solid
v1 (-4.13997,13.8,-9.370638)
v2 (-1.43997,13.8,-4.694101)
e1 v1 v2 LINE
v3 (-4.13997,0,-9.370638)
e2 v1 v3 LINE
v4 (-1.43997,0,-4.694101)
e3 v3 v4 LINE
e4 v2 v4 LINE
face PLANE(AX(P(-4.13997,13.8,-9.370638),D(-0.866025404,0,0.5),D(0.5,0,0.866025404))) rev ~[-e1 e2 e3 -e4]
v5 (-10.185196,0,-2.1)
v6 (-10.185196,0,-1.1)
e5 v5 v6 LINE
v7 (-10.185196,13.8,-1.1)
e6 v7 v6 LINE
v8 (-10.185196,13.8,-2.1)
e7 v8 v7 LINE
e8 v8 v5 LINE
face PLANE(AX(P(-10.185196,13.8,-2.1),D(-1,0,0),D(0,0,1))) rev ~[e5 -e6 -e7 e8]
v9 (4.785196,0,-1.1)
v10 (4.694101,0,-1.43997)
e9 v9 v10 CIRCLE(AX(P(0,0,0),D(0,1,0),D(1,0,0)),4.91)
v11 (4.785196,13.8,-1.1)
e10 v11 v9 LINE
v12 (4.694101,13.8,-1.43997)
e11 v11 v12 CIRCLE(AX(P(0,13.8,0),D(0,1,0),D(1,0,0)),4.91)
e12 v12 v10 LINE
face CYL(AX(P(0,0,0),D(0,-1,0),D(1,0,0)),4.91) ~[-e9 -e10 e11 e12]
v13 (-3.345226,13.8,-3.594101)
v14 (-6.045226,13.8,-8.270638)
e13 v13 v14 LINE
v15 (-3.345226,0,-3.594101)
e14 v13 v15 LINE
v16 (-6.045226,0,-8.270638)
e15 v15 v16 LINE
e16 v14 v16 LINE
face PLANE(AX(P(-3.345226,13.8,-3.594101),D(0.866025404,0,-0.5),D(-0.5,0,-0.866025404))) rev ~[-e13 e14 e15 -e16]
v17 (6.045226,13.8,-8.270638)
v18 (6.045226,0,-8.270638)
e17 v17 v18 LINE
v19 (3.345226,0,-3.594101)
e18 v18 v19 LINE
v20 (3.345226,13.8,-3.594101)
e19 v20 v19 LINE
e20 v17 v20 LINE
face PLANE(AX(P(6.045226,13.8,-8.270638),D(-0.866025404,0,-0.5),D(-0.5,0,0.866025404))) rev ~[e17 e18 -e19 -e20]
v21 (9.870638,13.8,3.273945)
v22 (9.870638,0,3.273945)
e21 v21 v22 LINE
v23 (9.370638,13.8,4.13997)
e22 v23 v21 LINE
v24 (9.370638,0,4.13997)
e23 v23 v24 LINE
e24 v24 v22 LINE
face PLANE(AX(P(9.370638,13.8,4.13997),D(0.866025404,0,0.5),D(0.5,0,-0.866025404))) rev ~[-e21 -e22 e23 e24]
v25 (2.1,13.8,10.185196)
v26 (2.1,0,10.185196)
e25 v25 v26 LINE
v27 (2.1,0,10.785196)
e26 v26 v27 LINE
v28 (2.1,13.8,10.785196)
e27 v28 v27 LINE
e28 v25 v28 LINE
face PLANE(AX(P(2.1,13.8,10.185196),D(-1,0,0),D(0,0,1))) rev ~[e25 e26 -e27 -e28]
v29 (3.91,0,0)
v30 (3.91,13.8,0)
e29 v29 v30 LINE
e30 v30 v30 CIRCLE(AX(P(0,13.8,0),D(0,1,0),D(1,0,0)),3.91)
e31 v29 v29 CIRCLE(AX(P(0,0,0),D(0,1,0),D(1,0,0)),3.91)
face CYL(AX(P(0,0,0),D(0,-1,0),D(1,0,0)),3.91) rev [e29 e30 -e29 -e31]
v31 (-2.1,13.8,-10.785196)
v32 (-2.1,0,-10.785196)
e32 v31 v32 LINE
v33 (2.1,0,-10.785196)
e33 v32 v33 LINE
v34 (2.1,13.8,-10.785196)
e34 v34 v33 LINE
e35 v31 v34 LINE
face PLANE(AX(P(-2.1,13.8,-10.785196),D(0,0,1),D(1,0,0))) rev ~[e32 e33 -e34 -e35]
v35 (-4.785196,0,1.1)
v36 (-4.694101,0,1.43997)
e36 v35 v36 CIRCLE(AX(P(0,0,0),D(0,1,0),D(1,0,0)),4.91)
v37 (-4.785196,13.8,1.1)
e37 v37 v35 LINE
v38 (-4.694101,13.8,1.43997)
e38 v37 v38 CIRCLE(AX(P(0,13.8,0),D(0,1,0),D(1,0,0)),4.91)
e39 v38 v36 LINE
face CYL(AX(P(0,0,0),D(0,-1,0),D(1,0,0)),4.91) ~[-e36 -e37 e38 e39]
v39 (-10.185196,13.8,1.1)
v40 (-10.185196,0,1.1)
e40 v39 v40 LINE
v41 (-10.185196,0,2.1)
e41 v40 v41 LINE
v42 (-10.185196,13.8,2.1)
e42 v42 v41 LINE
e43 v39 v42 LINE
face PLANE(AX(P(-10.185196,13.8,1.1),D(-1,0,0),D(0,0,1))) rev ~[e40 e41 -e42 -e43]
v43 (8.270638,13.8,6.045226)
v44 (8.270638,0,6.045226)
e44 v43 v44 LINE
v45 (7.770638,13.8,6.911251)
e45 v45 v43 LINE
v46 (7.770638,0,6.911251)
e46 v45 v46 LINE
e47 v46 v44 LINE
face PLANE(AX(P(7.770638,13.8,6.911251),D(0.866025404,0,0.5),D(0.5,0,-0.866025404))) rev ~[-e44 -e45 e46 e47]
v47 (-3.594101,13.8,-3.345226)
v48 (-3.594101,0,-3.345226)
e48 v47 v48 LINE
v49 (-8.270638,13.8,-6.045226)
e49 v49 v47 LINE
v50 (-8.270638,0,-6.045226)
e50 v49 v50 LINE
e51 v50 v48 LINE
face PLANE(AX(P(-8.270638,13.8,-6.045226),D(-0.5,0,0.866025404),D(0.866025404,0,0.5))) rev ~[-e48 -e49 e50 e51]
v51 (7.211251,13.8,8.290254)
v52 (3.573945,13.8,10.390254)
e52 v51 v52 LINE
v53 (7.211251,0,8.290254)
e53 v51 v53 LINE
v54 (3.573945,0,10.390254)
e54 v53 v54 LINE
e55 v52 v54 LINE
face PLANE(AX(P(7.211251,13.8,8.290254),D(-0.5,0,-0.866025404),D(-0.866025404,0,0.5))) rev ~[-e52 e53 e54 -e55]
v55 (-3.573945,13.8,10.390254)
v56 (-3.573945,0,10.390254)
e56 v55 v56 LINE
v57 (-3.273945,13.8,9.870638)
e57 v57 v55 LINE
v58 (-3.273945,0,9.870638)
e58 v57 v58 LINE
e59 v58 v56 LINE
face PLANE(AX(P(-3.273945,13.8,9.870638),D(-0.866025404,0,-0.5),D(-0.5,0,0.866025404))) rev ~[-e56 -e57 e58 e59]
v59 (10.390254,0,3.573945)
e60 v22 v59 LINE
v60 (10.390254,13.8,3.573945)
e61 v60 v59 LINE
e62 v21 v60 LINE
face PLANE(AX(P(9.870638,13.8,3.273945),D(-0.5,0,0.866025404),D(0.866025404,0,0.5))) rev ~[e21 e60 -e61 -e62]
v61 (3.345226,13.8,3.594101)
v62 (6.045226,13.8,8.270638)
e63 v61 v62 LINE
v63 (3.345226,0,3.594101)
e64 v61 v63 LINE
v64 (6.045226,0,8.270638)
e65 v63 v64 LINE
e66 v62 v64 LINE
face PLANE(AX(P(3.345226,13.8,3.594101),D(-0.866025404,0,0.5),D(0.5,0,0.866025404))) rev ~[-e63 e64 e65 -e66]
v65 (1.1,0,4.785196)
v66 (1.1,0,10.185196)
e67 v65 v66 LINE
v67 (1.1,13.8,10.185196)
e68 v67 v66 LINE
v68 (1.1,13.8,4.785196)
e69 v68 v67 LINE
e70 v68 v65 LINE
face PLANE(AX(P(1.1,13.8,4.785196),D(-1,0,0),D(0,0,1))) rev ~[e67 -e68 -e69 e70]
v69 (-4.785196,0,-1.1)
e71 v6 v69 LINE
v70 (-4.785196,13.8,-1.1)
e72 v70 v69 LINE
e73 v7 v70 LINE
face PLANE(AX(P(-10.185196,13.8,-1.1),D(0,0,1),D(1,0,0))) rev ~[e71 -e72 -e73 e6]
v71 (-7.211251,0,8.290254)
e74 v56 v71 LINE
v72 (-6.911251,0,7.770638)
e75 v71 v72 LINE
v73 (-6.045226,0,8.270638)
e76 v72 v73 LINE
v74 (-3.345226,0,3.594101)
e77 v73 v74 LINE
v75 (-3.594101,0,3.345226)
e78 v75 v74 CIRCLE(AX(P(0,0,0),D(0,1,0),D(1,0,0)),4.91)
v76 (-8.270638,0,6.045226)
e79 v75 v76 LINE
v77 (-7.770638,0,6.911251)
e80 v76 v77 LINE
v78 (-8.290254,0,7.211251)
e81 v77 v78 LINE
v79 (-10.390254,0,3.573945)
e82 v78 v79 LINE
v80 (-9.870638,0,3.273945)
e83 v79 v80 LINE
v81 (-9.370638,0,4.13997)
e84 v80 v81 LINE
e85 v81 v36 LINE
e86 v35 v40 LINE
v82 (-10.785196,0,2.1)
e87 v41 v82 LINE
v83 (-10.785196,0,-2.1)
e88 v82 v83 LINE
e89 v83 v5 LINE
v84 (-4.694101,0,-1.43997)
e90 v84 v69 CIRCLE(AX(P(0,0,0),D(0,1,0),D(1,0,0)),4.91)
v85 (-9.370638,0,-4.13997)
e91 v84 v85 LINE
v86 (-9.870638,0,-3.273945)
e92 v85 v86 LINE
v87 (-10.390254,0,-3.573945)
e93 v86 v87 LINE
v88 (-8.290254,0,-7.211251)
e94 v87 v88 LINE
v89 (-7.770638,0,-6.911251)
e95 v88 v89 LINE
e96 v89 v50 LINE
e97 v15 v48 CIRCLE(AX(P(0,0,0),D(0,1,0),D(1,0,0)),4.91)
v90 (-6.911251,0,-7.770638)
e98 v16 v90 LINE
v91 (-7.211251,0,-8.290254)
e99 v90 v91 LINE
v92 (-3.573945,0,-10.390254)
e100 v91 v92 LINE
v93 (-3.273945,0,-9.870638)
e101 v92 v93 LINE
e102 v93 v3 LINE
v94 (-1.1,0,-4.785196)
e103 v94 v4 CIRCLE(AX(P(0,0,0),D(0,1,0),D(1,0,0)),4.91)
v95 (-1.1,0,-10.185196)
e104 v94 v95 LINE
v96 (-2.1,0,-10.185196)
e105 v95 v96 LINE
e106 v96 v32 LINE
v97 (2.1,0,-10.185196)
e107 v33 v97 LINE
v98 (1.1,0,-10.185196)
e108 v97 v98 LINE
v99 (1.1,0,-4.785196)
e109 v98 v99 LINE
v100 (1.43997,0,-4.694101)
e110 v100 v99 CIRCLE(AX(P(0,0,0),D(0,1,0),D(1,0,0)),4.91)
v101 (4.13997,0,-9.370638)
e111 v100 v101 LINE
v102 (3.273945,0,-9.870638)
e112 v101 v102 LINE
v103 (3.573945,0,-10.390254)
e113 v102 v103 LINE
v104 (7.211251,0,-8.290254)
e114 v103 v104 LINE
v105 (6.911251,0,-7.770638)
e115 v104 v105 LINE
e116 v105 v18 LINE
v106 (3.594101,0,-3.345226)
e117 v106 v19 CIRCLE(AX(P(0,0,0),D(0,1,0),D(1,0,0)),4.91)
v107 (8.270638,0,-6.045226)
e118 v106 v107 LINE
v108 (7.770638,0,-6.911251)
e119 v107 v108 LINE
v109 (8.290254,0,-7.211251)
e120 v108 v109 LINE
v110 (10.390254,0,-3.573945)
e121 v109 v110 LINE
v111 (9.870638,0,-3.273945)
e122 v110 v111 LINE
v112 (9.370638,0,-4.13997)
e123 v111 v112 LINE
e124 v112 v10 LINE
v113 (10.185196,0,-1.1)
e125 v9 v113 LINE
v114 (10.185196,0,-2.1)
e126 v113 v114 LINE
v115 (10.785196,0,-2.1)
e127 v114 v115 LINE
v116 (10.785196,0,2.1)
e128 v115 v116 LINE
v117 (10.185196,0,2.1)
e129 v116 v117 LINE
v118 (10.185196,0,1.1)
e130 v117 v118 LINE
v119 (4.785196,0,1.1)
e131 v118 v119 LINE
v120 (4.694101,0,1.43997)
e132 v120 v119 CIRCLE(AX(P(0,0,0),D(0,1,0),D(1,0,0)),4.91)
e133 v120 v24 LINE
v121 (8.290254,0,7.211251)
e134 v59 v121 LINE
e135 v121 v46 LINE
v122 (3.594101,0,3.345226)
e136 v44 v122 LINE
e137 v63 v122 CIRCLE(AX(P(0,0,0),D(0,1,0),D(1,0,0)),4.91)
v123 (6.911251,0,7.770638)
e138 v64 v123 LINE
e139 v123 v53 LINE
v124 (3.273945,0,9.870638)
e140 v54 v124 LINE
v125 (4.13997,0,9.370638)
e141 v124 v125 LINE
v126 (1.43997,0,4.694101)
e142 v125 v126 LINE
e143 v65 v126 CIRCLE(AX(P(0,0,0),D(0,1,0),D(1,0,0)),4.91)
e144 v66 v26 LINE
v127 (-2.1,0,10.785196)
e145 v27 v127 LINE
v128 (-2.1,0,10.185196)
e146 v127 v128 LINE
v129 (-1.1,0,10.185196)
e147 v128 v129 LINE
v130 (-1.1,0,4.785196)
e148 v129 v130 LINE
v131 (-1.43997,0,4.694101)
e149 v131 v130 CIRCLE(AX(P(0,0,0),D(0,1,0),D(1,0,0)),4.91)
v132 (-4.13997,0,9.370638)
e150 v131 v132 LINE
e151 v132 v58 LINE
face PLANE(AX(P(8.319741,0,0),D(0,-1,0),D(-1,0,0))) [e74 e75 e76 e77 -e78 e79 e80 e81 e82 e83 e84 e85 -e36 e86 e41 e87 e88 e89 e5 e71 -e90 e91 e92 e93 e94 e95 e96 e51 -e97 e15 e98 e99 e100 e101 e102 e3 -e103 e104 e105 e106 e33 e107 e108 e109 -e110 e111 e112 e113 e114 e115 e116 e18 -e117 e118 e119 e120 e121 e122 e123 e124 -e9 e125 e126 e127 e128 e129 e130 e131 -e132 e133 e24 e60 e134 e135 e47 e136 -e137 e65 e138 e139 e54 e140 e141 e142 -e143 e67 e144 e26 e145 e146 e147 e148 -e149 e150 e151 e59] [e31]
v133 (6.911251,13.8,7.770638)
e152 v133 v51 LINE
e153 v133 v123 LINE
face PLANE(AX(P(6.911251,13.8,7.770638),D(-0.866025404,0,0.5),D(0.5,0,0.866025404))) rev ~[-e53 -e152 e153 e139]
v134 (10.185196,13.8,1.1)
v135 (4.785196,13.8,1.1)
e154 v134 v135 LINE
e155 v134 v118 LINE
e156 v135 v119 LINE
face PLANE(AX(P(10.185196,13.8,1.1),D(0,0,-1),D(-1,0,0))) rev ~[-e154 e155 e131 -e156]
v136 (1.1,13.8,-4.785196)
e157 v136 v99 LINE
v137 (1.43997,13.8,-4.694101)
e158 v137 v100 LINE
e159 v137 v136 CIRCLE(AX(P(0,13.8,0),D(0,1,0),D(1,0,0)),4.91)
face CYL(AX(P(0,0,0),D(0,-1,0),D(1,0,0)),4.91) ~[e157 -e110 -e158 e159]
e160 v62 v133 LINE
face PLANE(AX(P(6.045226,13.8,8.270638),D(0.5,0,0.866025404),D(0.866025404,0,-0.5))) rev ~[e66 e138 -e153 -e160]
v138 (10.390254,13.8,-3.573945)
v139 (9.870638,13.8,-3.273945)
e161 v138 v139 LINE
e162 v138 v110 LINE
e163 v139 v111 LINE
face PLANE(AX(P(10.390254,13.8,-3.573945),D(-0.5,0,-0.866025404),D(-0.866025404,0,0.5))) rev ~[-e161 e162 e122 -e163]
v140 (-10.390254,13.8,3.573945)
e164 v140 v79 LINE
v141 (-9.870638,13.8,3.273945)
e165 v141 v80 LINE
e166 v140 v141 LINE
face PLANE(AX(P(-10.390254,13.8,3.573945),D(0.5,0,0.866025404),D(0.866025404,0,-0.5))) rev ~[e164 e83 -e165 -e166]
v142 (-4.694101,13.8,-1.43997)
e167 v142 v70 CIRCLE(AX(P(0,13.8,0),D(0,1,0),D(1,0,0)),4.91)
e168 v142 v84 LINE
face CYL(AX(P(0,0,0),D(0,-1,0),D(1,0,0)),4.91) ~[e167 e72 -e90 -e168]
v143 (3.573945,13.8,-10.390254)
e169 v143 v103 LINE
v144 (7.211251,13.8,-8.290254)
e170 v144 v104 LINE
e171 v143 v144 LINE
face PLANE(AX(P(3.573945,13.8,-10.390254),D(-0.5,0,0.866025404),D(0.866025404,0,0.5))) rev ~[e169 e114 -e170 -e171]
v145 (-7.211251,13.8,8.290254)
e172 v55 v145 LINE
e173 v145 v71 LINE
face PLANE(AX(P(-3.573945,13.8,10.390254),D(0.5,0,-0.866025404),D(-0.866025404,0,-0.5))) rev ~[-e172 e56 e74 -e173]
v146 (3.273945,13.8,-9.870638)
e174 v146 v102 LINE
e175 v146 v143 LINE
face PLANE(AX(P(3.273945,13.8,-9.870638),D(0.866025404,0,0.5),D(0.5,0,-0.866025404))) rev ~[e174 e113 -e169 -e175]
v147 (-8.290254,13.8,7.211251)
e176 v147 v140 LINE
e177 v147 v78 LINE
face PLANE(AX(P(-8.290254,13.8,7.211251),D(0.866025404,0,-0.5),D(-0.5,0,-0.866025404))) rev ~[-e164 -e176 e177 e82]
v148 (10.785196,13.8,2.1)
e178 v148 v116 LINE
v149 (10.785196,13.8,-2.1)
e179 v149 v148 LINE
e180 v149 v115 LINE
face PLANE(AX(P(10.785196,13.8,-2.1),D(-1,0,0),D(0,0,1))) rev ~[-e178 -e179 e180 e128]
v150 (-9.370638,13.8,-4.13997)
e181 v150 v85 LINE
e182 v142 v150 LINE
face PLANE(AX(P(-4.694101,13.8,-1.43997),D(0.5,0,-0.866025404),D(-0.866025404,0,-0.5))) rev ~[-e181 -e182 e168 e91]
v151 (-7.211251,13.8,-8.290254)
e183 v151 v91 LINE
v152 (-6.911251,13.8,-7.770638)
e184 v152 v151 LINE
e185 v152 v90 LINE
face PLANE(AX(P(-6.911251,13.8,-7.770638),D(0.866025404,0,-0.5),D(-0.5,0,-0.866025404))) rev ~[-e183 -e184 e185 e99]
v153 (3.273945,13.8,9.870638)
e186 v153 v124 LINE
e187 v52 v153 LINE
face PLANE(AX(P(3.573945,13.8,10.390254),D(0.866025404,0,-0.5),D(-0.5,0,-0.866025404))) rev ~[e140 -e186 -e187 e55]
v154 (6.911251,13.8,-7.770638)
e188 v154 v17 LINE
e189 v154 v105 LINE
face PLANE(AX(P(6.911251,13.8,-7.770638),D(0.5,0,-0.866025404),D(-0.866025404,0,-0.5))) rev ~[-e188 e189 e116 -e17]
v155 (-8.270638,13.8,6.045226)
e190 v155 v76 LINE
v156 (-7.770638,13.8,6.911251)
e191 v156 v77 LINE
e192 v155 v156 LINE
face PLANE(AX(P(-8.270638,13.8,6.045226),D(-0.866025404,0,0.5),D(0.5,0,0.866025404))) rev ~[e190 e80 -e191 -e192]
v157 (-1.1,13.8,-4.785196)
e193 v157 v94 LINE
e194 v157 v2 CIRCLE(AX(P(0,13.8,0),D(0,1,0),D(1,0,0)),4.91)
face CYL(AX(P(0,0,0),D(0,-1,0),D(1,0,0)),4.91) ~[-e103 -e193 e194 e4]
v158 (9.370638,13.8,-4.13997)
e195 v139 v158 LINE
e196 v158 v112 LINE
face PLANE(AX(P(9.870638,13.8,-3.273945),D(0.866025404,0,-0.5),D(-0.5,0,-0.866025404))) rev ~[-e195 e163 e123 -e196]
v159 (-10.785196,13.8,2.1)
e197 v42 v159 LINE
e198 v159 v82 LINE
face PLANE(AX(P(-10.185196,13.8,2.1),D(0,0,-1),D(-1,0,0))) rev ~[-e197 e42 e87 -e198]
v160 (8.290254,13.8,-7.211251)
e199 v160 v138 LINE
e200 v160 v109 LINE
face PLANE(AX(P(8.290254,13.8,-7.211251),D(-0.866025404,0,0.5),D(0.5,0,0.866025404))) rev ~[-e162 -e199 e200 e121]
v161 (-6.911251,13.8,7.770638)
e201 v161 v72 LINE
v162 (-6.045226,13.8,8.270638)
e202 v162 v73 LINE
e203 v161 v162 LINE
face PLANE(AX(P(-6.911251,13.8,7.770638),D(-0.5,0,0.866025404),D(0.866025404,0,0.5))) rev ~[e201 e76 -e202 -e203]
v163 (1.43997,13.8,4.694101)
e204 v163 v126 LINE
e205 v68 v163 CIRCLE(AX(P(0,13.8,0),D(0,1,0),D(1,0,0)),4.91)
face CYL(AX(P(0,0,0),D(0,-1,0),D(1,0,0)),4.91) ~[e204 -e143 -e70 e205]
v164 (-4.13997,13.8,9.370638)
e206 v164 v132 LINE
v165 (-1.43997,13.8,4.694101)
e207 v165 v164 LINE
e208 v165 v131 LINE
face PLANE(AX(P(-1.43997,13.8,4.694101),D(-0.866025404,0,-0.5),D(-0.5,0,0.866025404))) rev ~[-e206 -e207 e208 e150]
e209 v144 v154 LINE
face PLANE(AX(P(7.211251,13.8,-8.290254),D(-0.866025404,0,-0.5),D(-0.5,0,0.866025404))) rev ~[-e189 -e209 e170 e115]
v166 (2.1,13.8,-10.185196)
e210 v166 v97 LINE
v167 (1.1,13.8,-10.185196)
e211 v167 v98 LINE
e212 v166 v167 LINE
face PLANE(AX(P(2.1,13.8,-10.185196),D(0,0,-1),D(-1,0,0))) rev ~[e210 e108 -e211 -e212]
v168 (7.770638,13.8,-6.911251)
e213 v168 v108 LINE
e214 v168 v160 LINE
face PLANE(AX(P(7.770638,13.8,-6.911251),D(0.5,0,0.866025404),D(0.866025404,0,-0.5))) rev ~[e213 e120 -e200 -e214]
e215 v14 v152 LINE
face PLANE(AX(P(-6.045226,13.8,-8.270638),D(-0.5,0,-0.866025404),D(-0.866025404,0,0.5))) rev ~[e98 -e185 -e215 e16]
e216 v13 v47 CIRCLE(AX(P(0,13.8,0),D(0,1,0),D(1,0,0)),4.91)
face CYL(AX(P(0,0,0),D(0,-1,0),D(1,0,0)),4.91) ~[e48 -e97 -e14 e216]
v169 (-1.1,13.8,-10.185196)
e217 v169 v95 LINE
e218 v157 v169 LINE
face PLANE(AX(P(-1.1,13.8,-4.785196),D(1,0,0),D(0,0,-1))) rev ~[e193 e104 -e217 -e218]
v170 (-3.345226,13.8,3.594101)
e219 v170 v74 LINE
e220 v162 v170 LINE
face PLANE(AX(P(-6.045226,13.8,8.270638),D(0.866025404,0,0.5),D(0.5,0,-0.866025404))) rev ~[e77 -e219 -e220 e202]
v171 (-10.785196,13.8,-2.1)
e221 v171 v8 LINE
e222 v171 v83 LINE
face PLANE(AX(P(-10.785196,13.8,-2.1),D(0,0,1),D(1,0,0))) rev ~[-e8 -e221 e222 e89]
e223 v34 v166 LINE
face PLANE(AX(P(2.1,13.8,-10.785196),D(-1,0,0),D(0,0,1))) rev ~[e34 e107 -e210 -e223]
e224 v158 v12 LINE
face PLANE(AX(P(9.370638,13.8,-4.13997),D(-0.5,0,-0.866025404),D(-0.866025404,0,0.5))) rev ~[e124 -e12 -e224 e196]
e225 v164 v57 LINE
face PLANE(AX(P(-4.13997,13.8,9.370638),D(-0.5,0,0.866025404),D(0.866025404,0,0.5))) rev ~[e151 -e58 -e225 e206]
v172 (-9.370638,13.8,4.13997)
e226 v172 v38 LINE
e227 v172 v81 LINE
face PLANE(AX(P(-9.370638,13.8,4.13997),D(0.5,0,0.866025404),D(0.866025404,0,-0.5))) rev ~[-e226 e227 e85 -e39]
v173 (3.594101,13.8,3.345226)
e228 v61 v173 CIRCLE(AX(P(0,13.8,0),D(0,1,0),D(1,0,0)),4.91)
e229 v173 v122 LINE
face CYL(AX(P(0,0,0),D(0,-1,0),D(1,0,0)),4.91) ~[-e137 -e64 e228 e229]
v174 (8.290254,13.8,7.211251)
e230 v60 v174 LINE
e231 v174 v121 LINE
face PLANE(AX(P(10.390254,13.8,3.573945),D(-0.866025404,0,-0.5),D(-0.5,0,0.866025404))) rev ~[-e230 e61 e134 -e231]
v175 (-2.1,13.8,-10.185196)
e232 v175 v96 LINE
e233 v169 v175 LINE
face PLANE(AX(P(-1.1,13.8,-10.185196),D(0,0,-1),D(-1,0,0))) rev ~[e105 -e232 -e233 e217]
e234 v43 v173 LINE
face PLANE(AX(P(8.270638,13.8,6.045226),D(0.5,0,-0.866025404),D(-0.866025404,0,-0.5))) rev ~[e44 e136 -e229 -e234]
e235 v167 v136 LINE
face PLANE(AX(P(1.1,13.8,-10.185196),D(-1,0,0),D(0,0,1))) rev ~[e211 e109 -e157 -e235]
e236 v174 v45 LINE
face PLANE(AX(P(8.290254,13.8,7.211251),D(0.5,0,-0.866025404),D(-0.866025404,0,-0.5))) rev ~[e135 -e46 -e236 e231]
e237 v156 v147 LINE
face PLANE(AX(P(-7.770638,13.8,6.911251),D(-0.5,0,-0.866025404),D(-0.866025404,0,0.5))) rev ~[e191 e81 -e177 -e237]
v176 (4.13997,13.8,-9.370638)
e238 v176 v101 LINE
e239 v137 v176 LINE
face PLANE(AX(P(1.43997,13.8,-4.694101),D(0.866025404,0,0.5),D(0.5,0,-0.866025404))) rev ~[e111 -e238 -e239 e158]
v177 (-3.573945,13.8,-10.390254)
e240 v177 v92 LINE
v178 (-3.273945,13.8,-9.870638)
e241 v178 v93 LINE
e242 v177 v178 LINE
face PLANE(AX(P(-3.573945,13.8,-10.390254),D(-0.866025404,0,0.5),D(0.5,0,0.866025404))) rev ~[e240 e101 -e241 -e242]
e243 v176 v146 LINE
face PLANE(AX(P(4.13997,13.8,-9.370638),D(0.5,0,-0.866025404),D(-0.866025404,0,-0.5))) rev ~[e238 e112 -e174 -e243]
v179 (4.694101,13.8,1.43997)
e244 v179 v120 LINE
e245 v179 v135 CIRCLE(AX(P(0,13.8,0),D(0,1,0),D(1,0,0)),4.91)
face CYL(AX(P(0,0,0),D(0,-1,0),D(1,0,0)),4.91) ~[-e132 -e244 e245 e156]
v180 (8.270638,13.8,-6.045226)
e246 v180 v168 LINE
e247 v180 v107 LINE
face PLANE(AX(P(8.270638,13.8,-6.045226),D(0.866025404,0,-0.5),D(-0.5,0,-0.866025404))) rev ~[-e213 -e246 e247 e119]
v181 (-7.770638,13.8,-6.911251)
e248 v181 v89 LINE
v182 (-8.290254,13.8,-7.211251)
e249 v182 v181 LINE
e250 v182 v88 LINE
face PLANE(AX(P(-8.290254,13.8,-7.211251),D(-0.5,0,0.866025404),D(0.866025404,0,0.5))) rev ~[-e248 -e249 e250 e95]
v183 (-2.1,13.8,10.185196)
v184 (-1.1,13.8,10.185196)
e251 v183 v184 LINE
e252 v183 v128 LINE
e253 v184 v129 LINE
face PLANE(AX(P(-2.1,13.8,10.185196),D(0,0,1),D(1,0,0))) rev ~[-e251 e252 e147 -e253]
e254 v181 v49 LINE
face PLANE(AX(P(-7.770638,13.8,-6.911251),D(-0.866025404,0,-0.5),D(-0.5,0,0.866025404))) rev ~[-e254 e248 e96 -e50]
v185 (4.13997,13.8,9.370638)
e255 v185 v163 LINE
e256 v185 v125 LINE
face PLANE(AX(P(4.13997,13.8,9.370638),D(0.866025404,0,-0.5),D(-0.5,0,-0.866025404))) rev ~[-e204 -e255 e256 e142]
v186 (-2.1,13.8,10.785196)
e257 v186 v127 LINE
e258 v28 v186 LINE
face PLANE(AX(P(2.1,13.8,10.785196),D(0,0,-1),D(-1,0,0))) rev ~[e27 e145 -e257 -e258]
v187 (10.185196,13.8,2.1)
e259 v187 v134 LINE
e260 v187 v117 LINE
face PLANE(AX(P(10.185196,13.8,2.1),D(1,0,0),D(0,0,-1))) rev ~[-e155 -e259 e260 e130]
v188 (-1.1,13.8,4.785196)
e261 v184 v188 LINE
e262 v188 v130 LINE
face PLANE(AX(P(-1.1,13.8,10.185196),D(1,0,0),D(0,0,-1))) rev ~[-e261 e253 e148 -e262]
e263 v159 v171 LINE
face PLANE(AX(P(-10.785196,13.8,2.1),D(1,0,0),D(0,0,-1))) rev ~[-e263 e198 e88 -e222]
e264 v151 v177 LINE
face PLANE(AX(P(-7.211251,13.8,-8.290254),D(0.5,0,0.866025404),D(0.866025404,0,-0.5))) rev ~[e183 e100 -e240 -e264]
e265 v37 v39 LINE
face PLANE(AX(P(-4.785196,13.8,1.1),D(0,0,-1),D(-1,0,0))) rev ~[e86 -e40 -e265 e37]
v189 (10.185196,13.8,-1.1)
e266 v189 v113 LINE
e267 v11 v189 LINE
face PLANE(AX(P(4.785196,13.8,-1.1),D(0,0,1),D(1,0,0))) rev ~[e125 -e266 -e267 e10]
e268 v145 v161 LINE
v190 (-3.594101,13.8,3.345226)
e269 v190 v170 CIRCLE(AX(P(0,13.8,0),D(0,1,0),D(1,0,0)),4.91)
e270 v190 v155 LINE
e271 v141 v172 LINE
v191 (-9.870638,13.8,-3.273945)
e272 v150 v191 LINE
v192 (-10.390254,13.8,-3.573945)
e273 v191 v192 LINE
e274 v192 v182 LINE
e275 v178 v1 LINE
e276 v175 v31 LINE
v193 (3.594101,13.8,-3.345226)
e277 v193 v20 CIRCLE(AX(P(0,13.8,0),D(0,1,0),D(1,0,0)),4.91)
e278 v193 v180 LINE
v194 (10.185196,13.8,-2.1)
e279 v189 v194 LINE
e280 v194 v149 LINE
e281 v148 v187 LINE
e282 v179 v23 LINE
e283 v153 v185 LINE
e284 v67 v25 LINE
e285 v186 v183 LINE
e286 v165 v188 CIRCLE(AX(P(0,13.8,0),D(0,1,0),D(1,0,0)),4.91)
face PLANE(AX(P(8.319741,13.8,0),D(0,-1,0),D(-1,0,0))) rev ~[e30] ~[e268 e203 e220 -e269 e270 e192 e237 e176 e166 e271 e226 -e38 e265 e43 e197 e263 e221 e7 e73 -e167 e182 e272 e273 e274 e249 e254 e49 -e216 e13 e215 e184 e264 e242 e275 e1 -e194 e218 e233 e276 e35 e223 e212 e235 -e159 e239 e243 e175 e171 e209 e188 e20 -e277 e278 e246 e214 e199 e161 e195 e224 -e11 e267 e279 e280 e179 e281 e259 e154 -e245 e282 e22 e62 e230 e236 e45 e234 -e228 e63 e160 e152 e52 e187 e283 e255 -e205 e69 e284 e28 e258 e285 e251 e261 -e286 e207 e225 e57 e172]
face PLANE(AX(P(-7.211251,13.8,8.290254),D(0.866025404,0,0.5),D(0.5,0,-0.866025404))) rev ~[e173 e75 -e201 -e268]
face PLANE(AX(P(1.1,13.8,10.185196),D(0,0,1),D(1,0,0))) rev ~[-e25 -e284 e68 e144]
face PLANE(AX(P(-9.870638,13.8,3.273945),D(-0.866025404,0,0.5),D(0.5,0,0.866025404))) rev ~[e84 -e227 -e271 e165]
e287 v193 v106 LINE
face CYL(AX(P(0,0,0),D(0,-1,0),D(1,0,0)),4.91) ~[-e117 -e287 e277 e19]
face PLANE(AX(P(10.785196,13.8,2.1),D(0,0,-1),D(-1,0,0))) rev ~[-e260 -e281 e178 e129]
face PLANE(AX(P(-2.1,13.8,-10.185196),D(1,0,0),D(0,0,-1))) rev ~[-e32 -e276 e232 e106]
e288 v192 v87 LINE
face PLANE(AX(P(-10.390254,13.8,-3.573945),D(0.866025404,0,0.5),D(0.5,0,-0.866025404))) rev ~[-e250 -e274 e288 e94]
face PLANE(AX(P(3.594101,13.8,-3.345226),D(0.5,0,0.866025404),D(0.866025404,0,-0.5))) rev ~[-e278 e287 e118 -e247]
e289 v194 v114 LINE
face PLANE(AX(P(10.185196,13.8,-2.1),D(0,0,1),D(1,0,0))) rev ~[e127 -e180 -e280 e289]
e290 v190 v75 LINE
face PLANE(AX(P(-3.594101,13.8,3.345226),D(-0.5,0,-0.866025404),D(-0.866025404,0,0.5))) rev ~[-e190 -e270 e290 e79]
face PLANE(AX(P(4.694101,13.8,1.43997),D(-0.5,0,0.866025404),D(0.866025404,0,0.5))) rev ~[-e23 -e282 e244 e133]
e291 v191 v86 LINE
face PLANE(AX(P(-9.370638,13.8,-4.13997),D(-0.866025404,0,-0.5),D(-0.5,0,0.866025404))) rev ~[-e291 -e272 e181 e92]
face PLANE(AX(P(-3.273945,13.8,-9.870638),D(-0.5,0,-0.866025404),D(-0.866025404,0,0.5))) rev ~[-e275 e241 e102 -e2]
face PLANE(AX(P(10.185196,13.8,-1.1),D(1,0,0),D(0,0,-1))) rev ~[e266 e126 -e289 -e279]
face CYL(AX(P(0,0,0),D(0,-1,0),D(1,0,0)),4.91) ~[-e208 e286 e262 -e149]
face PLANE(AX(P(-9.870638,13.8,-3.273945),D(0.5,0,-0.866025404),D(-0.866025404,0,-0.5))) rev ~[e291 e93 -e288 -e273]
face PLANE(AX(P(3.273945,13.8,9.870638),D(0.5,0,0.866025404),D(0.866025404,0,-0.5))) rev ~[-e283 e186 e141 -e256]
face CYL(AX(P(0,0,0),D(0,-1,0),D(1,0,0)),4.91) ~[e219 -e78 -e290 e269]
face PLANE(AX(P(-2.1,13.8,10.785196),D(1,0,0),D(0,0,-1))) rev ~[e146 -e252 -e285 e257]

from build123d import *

# Parameters (mm, degrees)
SKETCH2_R           = 4.91
SKETCH2_R_2         = 3.91
BOSS_EXTRUDE1_DEPTH = 13.8
BOSS_EXTRUDE2_DEPTH = 13.8


with BuildPart() as part:
    # Sketch2 → Boss-Extrude1 (new body)
    with BuildSketch(Plane(origin=(0, 0, 0), x_dir=(1, 0, 0), z_dir=(0, 1, 0))):
        Circle(SKETCH2_R)
        Circle(SKETCH2_R_2, mode=Mode.SUBTRACT)
    extrude(amount=BOSS_EXTRUDE1_DEPTH)

    # Sketch3 → Boss-Extrude2 (add)
    with BuildSketch(Plane(origin=(0, 13.8, 0), x_dir=(1, 0, 0), z_dir=(0, 1, 0))):
        with BuildLine():
            Line((4.785195921, 1.1), (10.185195921, 1.1))
            Line((10.185195921, 1.1), (10.185195921, 2.1))
            Line((10.185195921, 2.1), (10.785195921, 2.1))
            Line((10.785195921, 2.1), (10.785195921, -2.1))
            Line((10.785195921, -2.1), (10.185195921, -2.1))
            Line((10.185195921, -2.1), (10.185195921, -1.1))
            Line((10.185195921, -1.1), (4.785195921, -1.1))
            ThreePointArc((4.785195921, -1.1), (4.91, 0), (4.785195921, 1.1))
        make_face()
        with BuildLine():
            Line((4.694101229, -1.439970016), (9.37063841, -4.139970016))
            Line((9.37063841, -4.139970016), (9.87063841, -3.273944612))
            Line((9.87063841, -3.273944612), (10.390253652, -3.573944612))
            Line((10.390253652, -3.573944612), (8.290253652, -7.211251308))
            Line((8.290253652, -7.211251308), (7.77063841, -6.911251308))
            Line((7.77063841, -6.911251308), (8.27063841, -6.045225905))
            Line((8.27063841, -6.045225905), (3.594101229, -3.345225905))
            ThreePointArc((3.594101229, -3.345225905), (4.252184733, -2.455), (4.694101229, -1.439970016))
        make_face()
        with BuildLine():
            Line((3.345225905, -3.594101229), (6.045225905, -8.27063841))
            Line((6.045225905, -8.27063841), (6.911251308, -7.77063841))
            Line((6.911251308, -7.77063841), (7.211251308, -8.290253652))
            Line((7.211251308, -8.290253652), (3.573944612, -10.390253652))
            Line((3.573944612, -10.390253652), (3.273944612, -9.87063841))
            Line((3.273944612, -9.87063841), (4.139970016, -9.37063841))
            Line((4.139970016, -9.37063841), (1.439970016, -4.694101229))
            ThreePointArc((1.439970016, -4.694101229), (2.455, -4.252184733), (3.345225905, -3.594101229))
        make_face()
        with BuildLine():
            Line((1.1, -4.785195921), (1.1, -10.185195921))
            Line((1.1, -10.185195921), (2.1, -10.185195921))
            Line((2.1, -10.185195921), (2.1, -10.785195921))
            Line((2.1, -10.785195921), (-2.1, -10.785195921))
            Line((-2.1, -10.785195921), (-2.1, -10.185195921))
            Line((-2.1, -10.185195921), (-1.1, -10.185195921))
            Line((-1.1, -10.185195921), (-1.1, -4.785195921))
            ThreePointArc((-1.1, -4.785195921), (0, -4.91), (1.1, -4.785195921))
        make_face()
        with BuildLine():
            Line((-1.439970016, -4.694101229), (-4.139970016, -9.37063841))
            Line((-4.139970016, -9.37063841), (-3.273944612, -9.87063841))
            Line((-3.273944612, -9.87063841), (-3.573944612, -10.390253652))
            Line((-3.573944612, -10.390253652), (-7.211251308, -8.290253652))
            Line((-7.211251308, -8.290253652), (-6.911251308, -7.77063841))
            Line((-6.911251308, -7.77063841), (-6.045225905, -8.27063841))
            Line((-6.045225905, -8.27063841), (-3.345225905, -3.594101229))
            ThreePointArc((-3.345225905, -3.594101229), (-2.455, -4.252184733), (-1.439970016, -4.694101229))
        make_face()
        with BuildLine():
            Line((-3.594101229, -3.345225905), (-8.27063841, -6.045225905))
            Line((-8.27063841, -6.045225905), (-7.77063841, -6.911251308))
            Line((-7.77063841, -6.911251308), (-8.290253652, -7.211251308))
            Line((-8.290253652, -7.211251308), (-10.390253652, -3.573944612))
            Line((-10.390253652, -3.573944612), (-9.87063841, -3.273944612))
            Line((-9.87063841, -3.273944612), (-9.37063841, -4.139970016))
            Line((-9.37063841, -4.139970016), (-4.694101229, -1.439970016))
            ThreePointArc((-4.694101229, -1.439970016), (-4.252184733, -2.455), (-3.594101229, -3.345225905))
        make_face()
        with BuildLine():
            Line((-4.785195921, -1.1), (-10.185195921, -1.1))
            Line((-10.185195921, -1.1), (-10.185195921, -2.1))
            Line((-10.185195921, -2.1), (-10.785195921, -2.1))
            Line((-10.785195921, -2.1), (-10.785195921, 2.1))
            Line((-10.785195921, 2.1), (-10.185195921, 2.1))
            Line((-10.185195921, 2.1), (-10.185195921, 1.1))
            Line((-10.185195921, 1.1), (-4.785195921, 1.1))
            ThreePointArc((-4.785195921, 1.1), (-4.91, 0), (-4.785195921, -1.1))
        make_face()
        with BuildLine():
            Line((-4.694101229, 1.439970016), (-9.37063841, 4.139970016))
            Line((-9.37063841, 4.139970016), (-9.87063841, 3.273944612))
            Line((-9.87063841, 3.273944612), (-10.390253652, 3.573944612))
            Line((-10.390253652, 3.573944612), (-8.290253652, 7.211251308))
            Line((-8.290253652, 7.211251308), (-7.77063841, 6.911251308))
            Line((-7.77063841, 6.911251308), (-8.27063841, 6.045225905))
            Line((-8.27063841, 6.045225905), (-3.594101229, 3.345225905))
            ThreePointArc((-3.594101229, 3.345225905), (-4.252184733, 2.455), (-4.694101229, 1.439970016))
        make_face()
        with BuildLine():
            Line((-3.345225905, 3.594101229), (-6.045225905, 8.27063841))
            Line((-6.045225905, 8.27063841), (-6.911251308, 7.77063841))
            Line((-6.911251308, 7.77063841), (-7.211251308, 8.290253652))
            Line((-7.211251308, 8.290253652), (-3.573944612, 10.390253652))
            Line((-3.573944612, 10.390253652), (-3.273944612, 9.87063841))
            Line((-3.273944612, 9.87063841), (-4.139970016, 9.37063841))
            Line((-4.139970016, 9.37063841), (-1.439970016, 4.694101229))
            ThreePointArc((-1.439970016, 4.694101229), (-2.455, 4.252184733), (-3.345225905, 3.594101229))
        make_face()
        with BuildLine():
            Line((-1.1, 4.785195921), (-1.1, 10.185195921))
            Line((-1.1, 10.185195921), (-2.1, 10.185195921))
            Line((-2.1, 10.185195921), (-2.1, 10.785195921))
            Line((-2.1, 10.785195921), (2.1, 10.785195921))
            Line((2.1, 10.785195921), (2.1, 10.185195921))
            Line((2.1, 10.185195921), (1.1, 10.185195921))
            Line((1.1, 10.185195921), (1.1, 4.785195921))
            ThreePointArc((1.1, 4.785195921), (0, 4.91), (-1.1, 4.785195921))
        make_face()
        with BuildLine():
            Line((1.439970016, 4.694101229), (4.139970016, 9.37063841))
            Line((4.139970016, 9.37063841), (3.273944612, 9.87063841))
            Line((3.273944612, 9.87063841), (3.573944612, 10.390253652))
            Line((3.573944612, 10.390253652), (7.211251308, 8.290253652))
            Line((7.211251308, 8.290253652), (6.911251308, 7.77063841))
            Line((6.911251308, 7.77063841), (6.045225905, 8.27063841))
            Line((6.045225905, 8.27063841), (3.345225905, 3.594101229))
            ThreePointArc((3.345225905, 3.594101229), (2.455, 4.252184733), (1.439970016, 4.694101229))
        make_face()
        with BuildLine():
            Line((3.594101229, 3.345225905), (8.27063841, 6.045225905))
            Line((8.27063841, 6.045225905), (7.77063841, 6.911251308))
            Line((7.77063841, 6.911251308), (8.290253652, 7.211251308))
            Line((8.290253652, 7.211251308), (10.390253652, 3.573944612))
            Line((10.390253652, 3.573944612), (9.87063841, 3.273944612))
            Line((9.87063841, 3.273944612), (9.37063841, 4.139970016))
            Line((9.37063841, 4.139970016), (4.694101229, 1.439970016))
            ThreePointArc((4.694101229, 1.439970016), (4.252184733, 2.455), (3.594101229, 3.345225905))
        make_face()
    extrude(amount=-BOSS_EXTRUDE2_DEPTH)


solid = part.part
